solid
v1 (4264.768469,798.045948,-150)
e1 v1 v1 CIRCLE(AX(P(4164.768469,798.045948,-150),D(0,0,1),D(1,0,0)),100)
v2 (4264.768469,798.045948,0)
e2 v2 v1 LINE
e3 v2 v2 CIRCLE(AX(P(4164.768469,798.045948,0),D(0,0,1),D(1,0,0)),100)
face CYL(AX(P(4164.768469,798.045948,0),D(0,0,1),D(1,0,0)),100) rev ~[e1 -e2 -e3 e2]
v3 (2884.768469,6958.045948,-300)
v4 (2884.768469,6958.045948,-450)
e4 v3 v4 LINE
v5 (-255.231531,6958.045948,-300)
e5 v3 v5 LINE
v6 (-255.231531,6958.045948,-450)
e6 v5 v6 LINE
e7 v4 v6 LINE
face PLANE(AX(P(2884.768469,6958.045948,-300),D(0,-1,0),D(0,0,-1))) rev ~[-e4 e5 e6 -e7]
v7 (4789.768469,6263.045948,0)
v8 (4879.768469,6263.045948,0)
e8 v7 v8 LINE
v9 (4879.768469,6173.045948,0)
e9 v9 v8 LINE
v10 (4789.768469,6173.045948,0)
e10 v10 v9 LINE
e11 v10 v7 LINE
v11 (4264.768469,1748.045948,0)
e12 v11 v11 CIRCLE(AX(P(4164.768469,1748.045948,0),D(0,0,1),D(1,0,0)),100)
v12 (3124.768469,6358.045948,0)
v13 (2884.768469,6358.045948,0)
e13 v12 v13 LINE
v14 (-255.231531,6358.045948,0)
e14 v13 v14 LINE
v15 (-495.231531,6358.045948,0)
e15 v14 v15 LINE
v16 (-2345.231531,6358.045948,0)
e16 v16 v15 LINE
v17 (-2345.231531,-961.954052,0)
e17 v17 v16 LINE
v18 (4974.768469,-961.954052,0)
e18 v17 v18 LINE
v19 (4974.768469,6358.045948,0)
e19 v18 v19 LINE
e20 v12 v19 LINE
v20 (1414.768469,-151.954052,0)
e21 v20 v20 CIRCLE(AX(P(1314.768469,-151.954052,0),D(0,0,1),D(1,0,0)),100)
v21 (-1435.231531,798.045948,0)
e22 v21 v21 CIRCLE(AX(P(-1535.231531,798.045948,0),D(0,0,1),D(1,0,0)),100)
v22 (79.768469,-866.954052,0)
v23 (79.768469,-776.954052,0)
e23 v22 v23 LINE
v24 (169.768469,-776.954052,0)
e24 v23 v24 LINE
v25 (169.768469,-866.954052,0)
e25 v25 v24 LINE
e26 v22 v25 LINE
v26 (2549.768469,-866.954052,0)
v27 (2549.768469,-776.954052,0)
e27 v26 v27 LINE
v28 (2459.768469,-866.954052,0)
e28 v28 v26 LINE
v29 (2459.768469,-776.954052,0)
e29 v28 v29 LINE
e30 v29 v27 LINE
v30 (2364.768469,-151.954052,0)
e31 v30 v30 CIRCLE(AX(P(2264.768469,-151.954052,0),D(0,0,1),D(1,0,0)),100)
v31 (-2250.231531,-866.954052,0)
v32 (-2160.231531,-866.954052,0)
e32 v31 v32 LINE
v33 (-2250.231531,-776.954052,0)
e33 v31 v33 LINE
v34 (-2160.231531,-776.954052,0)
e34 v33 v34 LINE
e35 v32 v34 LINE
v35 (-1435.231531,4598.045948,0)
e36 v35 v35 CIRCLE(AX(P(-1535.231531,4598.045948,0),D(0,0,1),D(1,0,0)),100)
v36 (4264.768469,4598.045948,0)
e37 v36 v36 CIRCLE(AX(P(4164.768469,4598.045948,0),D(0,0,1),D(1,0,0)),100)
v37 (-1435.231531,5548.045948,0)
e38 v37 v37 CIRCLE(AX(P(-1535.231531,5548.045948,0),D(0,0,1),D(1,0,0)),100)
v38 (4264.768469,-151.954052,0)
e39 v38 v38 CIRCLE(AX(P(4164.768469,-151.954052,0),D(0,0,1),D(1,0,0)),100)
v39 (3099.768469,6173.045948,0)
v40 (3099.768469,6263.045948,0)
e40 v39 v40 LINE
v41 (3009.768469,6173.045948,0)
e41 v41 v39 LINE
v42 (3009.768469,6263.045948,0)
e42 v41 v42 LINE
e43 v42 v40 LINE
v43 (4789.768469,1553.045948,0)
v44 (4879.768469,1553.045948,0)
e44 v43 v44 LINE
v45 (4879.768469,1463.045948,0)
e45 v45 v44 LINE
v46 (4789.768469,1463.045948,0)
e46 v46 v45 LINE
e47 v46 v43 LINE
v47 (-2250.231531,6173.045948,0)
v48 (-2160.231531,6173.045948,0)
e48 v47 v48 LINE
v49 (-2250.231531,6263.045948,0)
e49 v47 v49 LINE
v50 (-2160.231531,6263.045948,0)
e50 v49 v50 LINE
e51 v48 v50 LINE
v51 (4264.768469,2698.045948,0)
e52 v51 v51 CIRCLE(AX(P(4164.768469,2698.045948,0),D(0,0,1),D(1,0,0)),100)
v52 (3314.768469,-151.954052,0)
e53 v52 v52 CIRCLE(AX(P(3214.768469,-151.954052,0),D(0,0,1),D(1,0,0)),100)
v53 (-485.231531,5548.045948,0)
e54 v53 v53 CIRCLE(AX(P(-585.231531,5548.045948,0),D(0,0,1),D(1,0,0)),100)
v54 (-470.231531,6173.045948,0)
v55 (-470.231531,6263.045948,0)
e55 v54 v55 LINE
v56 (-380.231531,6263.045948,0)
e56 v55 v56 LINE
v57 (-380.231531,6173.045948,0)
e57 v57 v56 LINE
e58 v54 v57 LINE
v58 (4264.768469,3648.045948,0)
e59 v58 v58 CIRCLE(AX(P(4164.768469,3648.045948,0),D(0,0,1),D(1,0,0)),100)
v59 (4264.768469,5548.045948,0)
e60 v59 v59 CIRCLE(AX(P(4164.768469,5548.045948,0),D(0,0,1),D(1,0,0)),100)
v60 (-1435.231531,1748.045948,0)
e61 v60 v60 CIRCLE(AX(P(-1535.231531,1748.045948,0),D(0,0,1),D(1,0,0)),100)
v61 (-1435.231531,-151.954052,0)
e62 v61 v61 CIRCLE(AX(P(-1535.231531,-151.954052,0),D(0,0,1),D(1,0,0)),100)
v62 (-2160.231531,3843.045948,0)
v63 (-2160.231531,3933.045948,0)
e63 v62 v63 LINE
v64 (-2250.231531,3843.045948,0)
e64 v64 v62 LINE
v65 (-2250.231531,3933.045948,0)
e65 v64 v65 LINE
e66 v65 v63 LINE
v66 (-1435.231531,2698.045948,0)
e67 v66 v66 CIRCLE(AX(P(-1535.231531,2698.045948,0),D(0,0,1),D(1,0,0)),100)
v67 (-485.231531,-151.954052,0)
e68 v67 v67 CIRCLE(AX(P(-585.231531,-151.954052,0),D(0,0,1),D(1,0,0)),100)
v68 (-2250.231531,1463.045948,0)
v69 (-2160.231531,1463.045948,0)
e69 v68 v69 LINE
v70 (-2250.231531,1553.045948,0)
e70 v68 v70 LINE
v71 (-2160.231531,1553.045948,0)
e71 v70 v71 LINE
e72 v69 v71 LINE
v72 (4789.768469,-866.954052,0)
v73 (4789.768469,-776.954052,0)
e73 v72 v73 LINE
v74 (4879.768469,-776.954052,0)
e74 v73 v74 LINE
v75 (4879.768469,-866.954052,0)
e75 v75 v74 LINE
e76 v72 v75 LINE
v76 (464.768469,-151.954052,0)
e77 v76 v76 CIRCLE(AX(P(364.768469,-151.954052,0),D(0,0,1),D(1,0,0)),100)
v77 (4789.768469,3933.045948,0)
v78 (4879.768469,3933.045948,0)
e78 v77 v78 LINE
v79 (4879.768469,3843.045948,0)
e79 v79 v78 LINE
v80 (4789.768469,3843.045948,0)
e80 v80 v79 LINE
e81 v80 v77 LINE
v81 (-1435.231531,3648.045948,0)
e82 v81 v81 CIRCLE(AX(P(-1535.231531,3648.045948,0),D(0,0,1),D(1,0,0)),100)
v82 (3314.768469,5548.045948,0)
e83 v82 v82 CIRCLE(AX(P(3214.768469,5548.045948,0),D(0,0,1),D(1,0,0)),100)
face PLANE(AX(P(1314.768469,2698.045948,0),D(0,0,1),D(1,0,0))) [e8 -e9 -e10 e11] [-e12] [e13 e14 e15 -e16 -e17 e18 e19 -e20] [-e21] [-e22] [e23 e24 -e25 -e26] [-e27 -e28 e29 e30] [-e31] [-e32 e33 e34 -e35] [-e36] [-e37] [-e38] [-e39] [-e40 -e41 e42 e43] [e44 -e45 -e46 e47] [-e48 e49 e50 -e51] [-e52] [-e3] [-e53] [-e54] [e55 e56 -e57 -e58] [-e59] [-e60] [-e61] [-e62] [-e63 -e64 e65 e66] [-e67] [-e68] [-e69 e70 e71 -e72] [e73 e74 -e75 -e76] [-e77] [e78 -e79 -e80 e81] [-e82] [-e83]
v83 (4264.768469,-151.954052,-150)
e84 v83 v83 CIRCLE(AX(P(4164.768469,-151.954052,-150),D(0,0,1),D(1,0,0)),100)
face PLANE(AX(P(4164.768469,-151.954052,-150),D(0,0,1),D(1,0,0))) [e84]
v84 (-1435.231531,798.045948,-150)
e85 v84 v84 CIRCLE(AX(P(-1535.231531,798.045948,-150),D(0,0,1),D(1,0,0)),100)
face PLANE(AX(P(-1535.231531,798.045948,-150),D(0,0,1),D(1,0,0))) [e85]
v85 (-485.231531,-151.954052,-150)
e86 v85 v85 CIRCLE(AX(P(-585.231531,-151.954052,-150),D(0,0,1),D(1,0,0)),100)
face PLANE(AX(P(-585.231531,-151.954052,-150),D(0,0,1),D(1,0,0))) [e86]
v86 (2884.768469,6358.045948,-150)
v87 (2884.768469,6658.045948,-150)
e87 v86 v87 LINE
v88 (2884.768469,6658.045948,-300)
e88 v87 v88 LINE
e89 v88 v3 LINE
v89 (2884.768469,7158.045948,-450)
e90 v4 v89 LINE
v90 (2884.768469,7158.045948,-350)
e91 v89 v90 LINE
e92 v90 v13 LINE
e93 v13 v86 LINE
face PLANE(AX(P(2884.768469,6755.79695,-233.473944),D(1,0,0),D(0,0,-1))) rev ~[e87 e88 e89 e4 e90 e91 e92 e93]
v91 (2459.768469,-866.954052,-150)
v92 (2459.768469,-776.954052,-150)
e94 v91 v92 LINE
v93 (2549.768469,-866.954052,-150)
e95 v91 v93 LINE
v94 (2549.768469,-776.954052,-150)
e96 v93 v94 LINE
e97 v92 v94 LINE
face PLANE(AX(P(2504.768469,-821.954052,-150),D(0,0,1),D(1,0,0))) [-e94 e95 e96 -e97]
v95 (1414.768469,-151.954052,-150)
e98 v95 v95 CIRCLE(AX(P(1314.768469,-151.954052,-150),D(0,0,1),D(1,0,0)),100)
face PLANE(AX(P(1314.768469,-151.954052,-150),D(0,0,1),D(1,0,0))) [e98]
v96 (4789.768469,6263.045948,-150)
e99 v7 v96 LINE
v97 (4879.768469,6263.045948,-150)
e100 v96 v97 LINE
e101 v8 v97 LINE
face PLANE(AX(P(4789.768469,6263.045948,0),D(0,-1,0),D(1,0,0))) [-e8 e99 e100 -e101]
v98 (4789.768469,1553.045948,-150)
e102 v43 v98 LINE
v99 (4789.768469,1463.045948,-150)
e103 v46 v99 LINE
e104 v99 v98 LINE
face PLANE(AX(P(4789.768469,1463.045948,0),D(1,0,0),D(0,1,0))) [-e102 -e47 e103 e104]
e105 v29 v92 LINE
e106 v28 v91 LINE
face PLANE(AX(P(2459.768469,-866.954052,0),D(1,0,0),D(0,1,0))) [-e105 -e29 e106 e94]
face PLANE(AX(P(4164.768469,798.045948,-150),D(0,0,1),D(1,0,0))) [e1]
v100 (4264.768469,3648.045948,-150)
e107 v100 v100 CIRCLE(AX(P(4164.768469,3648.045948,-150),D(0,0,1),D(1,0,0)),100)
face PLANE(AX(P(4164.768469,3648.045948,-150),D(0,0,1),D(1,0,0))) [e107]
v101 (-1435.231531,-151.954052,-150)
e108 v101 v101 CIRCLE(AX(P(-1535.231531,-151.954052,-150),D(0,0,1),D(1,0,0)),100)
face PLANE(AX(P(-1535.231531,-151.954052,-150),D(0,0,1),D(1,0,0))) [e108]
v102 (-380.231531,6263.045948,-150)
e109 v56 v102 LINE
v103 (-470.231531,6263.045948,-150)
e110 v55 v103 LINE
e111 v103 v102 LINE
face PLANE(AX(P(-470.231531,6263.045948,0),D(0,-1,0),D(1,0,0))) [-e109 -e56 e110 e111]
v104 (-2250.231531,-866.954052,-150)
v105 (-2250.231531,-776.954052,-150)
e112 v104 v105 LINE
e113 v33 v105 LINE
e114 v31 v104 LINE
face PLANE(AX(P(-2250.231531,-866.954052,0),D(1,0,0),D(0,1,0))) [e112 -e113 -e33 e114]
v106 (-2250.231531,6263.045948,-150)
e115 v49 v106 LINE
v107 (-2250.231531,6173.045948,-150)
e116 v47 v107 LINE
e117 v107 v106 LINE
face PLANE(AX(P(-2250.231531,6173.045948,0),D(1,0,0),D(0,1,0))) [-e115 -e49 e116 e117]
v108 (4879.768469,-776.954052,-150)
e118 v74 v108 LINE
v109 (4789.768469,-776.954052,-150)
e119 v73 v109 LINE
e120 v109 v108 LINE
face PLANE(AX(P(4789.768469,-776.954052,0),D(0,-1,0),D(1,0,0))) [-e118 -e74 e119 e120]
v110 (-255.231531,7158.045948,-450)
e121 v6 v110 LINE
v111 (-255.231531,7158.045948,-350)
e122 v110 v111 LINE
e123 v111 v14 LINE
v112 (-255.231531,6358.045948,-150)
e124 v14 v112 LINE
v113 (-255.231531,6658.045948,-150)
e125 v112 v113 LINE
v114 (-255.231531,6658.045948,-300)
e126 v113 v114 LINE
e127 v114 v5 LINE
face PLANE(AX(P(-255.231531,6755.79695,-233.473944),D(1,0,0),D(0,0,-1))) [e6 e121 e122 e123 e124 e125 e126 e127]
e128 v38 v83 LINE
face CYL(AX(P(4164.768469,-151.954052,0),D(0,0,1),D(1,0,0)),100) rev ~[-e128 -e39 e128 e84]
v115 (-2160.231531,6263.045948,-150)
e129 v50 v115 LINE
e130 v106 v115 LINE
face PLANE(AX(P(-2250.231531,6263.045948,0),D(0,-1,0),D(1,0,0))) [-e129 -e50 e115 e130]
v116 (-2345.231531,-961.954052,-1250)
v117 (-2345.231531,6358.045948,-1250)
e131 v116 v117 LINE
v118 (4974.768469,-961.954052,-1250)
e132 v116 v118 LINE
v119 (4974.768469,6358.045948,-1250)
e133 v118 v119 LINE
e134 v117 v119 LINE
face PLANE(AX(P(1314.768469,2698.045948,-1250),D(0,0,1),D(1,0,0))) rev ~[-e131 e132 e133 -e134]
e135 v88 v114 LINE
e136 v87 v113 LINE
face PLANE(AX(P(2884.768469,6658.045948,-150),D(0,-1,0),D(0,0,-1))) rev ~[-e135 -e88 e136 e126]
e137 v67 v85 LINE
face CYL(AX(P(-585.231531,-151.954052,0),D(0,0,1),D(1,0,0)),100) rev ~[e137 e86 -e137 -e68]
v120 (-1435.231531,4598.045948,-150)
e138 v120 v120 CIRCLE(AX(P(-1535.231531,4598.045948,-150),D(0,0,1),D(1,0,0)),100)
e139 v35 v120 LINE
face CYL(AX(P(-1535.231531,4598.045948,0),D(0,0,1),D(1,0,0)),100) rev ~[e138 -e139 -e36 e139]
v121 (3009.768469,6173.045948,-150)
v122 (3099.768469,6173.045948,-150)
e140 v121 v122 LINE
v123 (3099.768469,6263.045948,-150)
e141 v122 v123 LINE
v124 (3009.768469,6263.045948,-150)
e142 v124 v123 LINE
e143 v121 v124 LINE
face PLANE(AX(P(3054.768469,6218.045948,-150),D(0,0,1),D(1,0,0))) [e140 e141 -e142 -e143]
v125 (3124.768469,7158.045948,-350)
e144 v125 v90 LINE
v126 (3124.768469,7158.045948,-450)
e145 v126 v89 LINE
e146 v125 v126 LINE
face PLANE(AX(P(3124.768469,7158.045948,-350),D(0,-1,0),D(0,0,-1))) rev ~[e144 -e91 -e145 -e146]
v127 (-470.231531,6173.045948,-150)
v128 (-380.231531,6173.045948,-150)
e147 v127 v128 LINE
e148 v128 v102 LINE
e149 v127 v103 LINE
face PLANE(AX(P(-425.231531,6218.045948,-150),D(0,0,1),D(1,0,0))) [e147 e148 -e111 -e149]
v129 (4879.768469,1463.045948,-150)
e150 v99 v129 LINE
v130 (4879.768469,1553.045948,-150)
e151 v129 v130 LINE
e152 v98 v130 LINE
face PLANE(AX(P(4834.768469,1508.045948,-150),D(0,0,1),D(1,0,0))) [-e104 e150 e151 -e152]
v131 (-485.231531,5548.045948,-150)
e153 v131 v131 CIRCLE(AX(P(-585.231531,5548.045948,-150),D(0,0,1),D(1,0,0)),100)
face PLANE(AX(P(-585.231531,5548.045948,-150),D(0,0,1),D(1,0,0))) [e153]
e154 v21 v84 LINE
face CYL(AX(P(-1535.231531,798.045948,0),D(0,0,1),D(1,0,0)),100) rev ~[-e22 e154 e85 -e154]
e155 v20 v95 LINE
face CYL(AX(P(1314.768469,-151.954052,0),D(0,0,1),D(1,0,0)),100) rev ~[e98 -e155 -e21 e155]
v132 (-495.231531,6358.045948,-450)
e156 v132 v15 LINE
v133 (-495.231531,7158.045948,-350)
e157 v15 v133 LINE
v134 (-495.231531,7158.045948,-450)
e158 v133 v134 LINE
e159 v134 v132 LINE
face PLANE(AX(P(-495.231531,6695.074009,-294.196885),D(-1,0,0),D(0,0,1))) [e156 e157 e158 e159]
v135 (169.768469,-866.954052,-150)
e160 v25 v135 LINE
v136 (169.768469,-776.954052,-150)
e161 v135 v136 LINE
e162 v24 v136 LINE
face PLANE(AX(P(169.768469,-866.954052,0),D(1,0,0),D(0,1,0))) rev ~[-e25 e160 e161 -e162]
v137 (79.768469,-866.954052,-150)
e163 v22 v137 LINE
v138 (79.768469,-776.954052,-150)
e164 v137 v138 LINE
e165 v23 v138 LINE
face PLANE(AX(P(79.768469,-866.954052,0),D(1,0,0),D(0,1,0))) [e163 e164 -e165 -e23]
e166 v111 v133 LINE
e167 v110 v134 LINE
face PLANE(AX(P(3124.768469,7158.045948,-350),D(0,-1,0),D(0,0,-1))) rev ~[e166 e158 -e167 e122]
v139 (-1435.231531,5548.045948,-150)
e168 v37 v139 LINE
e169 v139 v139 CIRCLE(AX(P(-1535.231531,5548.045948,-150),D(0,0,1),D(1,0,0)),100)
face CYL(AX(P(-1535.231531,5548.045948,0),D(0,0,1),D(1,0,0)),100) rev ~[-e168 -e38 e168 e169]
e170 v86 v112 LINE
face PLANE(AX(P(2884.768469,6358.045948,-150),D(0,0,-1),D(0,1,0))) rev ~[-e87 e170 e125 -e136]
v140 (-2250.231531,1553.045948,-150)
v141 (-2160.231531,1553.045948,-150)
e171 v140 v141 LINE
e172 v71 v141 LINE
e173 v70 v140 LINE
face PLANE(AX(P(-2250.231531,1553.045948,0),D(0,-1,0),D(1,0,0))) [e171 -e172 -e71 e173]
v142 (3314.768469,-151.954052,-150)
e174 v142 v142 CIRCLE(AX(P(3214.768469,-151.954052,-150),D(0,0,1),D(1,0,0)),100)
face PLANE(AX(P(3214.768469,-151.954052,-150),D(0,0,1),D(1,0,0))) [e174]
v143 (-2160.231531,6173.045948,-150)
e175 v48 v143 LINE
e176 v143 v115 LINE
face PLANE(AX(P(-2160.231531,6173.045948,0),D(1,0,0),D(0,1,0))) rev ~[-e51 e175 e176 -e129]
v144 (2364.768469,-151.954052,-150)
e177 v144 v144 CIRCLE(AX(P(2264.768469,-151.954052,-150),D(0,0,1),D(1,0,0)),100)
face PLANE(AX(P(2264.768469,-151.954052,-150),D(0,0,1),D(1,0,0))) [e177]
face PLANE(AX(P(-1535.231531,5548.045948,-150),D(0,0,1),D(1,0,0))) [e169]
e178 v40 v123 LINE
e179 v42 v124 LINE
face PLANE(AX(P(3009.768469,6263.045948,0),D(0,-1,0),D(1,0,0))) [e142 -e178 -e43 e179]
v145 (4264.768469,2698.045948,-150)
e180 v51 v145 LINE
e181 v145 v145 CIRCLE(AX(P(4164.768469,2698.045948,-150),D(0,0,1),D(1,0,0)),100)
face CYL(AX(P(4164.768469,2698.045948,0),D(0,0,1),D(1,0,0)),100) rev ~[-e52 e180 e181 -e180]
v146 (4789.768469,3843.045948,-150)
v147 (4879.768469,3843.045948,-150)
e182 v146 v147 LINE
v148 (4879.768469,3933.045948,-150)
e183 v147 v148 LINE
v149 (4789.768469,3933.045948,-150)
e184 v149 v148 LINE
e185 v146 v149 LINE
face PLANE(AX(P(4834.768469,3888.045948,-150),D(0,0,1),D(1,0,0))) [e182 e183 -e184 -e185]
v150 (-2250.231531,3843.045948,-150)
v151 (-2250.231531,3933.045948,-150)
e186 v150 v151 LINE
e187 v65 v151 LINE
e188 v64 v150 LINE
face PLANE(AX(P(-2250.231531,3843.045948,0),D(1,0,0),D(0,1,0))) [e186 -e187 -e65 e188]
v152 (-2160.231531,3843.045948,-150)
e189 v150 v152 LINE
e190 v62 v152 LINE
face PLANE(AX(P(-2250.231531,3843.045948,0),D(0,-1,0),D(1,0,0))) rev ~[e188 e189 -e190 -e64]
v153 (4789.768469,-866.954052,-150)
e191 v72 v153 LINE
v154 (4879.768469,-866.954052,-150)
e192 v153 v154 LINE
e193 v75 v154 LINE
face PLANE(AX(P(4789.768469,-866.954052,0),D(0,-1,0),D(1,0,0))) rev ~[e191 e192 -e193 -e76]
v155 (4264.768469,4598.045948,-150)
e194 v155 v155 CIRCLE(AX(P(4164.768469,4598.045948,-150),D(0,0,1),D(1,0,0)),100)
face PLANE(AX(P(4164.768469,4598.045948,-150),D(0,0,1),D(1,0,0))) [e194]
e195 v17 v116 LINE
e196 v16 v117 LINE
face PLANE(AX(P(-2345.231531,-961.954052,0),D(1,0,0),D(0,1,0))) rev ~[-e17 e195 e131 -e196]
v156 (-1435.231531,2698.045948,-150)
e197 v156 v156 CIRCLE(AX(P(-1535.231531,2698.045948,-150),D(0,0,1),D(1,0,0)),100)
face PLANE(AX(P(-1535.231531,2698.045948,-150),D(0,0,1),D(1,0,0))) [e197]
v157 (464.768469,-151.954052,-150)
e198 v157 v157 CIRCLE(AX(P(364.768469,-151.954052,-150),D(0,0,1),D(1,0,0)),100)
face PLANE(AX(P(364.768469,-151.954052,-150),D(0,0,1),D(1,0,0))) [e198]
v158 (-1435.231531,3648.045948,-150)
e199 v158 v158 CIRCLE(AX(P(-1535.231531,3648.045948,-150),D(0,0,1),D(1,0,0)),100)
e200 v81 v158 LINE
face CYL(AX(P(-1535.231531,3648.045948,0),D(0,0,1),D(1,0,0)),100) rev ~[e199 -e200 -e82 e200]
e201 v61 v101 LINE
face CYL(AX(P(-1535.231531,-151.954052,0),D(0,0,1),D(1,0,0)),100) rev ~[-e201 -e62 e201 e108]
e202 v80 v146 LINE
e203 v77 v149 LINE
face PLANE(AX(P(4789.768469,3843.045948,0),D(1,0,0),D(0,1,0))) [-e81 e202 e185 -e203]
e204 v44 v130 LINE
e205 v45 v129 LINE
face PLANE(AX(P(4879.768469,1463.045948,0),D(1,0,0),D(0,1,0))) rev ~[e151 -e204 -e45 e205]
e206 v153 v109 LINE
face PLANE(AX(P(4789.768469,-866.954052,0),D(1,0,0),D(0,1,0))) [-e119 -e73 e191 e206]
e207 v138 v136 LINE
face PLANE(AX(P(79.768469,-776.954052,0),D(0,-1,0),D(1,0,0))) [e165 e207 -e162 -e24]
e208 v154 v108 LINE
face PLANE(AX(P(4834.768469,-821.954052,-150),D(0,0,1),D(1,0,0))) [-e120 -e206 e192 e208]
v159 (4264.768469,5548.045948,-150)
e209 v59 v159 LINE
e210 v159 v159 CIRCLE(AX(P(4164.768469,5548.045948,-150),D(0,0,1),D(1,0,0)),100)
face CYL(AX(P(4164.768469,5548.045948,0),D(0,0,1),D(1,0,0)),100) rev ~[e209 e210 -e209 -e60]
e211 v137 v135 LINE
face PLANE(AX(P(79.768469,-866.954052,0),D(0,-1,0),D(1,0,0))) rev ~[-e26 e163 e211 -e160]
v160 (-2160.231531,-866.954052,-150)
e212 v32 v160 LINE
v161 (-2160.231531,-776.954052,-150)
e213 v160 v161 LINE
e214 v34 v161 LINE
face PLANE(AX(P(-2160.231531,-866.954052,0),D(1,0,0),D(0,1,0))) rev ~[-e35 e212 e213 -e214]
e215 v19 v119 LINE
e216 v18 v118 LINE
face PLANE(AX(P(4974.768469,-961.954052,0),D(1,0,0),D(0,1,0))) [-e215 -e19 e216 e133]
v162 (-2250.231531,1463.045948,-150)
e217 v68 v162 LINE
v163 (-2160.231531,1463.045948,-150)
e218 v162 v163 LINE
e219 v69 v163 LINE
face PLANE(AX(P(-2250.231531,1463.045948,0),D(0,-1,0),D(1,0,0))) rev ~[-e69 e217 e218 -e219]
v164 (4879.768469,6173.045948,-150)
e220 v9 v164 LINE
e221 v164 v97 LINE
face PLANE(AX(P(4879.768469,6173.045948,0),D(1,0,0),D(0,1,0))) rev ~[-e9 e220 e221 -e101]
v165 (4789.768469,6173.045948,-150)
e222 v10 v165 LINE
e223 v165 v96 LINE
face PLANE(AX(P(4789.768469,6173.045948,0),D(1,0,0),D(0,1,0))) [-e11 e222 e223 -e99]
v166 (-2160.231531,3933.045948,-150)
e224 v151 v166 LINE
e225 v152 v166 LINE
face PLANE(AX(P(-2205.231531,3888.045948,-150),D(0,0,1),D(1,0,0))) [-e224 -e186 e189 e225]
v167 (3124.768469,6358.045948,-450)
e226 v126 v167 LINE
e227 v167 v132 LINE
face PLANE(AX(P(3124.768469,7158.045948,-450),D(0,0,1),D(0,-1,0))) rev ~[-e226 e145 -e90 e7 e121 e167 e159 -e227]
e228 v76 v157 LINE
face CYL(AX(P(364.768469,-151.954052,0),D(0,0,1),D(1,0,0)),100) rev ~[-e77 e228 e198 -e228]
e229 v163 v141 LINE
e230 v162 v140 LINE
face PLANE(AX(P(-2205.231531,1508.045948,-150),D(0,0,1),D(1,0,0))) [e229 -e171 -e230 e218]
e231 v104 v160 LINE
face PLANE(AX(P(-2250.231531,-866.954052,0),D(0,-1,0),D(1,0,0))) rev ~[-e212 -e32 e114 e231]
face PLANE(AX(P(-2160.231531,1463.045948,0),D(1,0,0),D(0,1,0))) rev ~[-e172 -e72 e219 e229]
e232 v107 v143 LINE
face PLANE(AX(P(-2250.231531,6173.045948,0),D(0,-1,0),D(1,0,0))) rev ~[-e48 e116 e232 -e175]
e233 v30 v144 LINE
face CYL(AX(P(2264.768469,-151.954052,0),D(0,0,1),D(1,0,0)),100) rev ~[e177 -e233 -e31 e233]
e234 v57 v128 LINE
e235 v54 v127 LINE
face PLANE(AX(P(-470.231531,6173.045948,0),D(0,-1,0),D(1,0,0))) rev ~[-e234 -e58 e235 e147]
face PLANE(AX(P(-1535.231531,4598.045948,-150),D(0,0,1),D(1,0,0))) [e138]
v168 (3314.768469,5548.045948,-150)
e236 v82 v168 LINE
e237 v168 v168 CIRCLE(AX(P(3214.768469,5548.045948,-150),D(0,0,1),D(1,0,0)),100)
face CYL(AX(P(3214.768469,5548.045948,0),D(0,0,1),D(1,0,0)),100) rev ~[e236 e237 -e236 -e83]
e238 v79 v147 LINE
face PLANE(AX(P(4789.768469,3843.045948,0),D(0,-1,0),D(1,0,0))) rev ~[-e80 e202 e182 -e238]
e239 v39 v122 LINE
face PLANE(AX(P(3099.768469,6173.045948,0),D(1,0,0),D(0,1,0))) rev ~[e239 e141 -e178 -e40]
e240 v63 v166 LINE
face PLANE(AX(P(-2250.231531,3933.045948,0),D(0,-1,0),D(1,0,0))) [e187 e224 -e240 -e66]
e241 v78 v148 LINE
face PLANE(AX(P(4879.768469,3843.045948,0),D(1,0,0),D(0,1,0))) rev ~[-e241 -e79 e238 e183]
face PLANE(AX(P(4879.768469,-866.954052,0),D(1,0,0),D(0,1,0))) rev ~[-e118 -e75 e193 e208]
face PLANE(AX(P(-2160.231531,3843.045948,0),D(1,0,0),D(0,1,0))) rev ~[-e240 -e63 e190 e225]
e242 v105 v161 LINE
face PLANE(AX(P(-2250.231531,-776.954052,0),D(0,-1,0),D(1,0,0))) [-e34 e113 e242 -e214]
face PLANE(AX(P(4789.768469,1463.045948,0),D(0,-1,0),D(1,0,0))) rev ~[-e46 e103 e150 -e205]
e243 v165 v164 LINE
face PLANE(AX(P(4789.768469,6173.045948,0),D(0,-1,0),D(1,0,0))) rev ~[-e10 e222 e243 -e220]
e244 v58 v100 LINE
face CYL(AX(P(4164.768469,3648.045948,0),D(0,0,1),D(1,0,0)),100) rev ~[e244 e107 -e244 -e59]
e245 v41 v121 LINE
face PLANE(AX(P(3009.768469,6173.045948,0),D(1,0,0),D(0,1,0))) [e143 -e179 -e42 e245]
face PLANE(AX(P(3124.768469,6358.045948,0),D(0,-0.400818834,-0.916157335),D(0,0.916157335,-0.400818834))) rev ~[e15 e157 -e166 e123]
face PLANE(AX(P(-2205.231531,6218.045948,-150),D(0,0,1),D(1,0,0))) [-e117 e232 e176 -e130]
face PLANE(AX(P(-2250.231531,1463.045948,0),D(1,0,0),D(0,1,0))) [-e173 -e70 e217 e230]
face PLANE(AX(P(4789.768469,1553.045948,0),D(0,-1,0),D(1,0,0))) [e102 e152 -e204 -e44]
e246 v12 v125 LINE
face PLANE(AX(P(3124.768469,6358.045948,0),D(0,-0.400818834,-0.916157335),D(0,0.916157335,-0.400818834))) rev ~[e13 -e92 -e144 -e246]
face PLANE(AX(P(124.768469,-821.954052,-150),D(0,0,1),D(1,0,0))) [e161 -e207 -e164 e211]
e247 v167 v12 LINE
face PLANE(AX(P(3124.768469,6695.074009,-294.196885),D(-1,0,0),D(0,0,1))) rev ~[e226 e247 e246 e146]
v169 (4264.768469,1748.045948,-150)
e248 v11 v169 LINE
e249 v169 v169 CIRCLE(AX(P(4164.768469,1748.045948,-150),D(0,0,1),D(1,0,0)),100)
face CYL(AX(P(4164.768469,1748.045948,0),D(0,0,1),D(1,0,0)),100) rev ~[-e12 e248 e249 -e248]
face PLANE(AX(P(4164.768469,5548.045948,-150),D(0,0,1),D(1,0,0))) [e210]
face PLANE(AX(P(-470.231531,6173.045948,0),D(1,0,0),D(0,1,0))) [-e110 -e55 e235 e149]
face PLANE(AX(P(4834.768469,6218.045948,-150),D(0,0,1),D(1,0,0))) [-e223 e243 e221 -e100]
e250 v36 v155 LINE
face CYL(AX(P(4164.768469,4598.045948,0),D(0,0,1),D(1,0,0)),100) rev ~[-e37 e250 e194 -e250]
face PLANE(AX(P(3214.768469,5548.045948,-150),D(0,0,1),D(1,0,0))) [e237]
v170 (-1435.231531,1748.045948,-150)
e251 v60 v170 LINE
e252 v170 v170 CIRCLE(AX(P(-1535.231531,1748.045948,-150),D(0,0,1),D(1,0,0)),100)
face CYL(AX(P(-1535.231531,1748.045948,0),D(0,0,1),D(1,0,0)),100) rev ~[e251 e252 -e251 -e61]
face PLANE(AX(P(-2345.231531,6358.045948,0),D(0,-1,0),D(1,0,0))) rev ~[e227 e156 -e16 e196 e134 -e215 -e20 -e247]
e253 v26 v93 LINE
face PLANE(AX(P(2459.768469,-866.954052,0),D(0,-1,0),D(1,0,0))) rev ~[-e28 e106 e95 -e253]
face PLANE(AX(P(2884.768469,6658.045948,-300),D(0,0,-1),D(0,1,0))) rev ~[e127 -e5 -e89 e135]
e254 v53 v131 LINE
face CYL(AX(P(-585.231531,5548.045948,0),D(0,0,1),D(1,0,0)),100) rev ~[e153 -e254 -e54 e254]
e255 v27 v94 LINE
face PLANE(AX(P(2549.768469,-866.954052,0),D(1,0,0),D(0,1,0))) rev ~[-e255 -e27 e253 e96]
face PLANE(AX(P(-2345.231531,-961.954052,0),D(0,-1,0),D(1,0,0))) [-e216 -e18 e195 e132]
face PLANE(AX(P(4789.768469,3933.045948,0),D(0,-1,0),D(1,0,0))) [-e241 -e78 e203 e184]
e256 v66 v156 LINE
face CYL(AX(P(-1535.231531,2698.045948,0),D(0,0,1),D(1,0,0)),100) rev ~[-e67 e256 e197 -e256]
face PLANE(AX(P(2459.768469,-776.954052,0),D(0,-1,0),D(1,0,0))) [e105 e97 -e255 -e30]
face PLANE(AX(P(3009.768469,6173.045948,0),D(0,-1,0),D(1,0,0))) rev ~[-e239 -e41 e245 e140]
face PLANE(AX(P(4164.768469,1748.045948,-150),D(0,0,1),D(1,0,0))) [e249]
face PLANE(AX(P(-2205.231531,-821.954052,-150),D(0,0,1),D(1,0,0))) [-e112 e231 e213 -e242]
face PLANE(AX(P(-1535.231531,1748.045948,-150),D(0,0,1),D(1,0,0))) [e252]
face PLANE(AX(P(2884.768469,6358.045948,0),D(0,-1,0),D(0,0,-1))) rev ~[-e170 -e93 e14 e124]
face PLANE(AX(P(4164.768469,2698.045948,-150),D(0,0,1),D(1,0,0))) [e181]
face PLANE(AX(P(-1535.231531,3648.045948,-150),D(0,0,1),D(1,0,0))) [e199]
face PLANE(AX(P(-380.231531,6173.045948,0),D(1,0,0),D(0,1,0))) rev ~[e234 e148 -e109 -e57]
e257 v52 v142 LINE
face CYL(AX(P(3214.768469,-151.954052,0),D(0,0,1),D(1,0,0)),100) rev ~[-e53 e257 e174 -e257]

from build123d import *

# Parameters (mm, degrees)
SKETCH_1_W          = 7320
SKETCH_1_H          = 7320
EXTRUDE_1_DEPTH     = 1250
SKETCH_2_R          = 100
CUT_EXTRUDE_2_DEPTH = 150
SKETCH_9_W          = 90
SKETCH_9_H          = 90
CUT_EXTRUDE_3_DEPTH = 150
SKETCH_10_R         = 100
CUT_EXTRUDE_4_DEPTH = 150
EXTRUDE_2_DEPTH     = 3620
CUT_EXTRUDE_5_DEPTH = 3140


with BuildPart() as part:
    # 草图1 → 凸台-拉伸1 (new body)
    with BuildSketch(Plane.XY):
        with Locations((1314.768469162, 2698.045948238)):
            Rectangle(SKETCH_1_W, SKETCH_1_H)
    extrude(amount=-EXTRUDE_1_DEPTH)

    # 草图2 → 切除-拉伸2 (cut)
    with BuildSketch(Plane.XY):
        with Locations((-1535.231530838, 5548.045948238)):
            Circle(SKETCH_2_R)
        with Locations((4164.768469162, 5548.045948238)):
            Circle(SKETCH_2_R)
        with Locations((-1535.231530838, -151.954051762)):
            Circle(SKETCH_2_R)
        with Locations((4164.768469162, -151.954051762)):
            Circle(SKETCH_2_R)
    extrude(amount=-CUT_EXTRUDE_2_DEPTH, mode=Mode.SUBTRACT)

    # 草图9 → 切除-拉伸3 (cut)
    with BuildSketch(Plane.XY):
        with Locations((-2205.231530838, 6218.045948238)):
            Rectangle(SKETCH_9_W, SKETCH_9_H)
        with Locations((-2205.231530838, 3888.045948238)):
            Rectangle(SKETCH_9_W, SKETCH_9_H)
        with Locations((-2205.231530838, 1508.045948238)):
            Rectangle(SKETCH_9_W, SKETCH_9_H)
        with Locations((-2205.231530838, -821.954051762)):
            Rectangle(SKETCH_9_W, SKETCH_9_H)
        with Locations((124.768469162, -821.954051762)):
            Rectangle(SKETCH_9_W, SKETCH_9_H)
        with Locations((2504.768469162, -821.954051762)):
            Rectangle(SKETCH_9_W, SKETCH_9_H)
        with Locations((4834.768469162, -821.954051762)):
            Rectangle(SKETCH_9_W, SKETCH_9_H)
        with Locations((4834.768469162, 1508.045948238)):
            Rectangle(SKETCH_9_W, SKETCH_9_H)
        with Locations((4834.768469162, 3888.045948238)):
            Rectangle(SKETCH_9_W, SKETCH_9_H)
        with Locations((4834.768469162, 6218.045948238)):
            Rectangle(SKETCH_9_W, SKETCH_9_H)
        with Locations((3054.768469162, 6218.045948238)):
            Rectangle(SKETCH_9_W, SKETCH_9_H)
        with Locations((-425.231530838, 6218.045948238)):
            Rectangle(SKETCH_9_W, SKETCH_9_H)
    extrude(amount=-CUT_EXTRUDE_3_DEPTH, mode=Mode.SUBTRACT)

    # 草图10 → 切除-拉伸4 (cut)
    with BuildSketch(Plane.XY):
        with Locations((-585.231530838, 5548.045948238)):
            Circle(SKETCH_10_R)
        with Locations((-1535.231530838, 3648.045948238)):
            Circle(SKETCH_10_R)
        with Locations((-1535.231530838, 1748.045948238)):
            Circle(SKETCH_10_R)
        with Locations((4164.768469162, 3648.045948238)):
            Circle(SKETCH_10_R)
        with Locations((4164.768469162, 1748.045948238)):
            Circle(SKETCH_10_R)
        with Locations((3214.768469162, 5548.045948238)):
            Circle(SKETCH_10_R)
        with Locations((-1535.231530838, 4598.045948238)):
            Circle(SKETCH_10_R)
        with Locations((-1535.231530838, 2698.045948238)):
            Circle(SKETCH_10_R)
        with Locations((-1535.231530838, 798.045948238)):
            Circle(SKETCH_10_R)
        with Locations((4164.768469162, 4598.045948238)):
            Circle(SKETCH_10_R)
        with Locations((4164.768469162, 2698.045948238)):
            Circle(SKETCH_10_R)
        with Locations((4164.768469162, 798.045948238)):
            Circle(SKETCH_10_R)
        with Locations((-585.231530838, -151.954051762)):
            Circle(SKETCH_10_R)
        with Locations((364.768469162, -151.954051762)):
            Circle(SKETCH_10_R)
        with Locations((1314.768469162, -151.954051762)):
            Circle(SKETCH_10_R)
        with Locations((2264.768469162, -151.954051762)):
            Circle(SKETCH_10_R)
        with Locations((3214.768469162, -151.954051762)):
            Circle(SKETCH_10_R)
    extrude(amount=-CUT_EXTRUDE_4_DEPTH, mode=Mode.SUBTRACT)

    # 草图11 → 凸台-拉伸2 (add)
    with BuildSketch(Plane(origin=(3124.768469162, 0, 0), x_dir=(0, 0, -1), z_dir=(1, 0, 0))):
        Polygon((450, 7158.045948238), (450, 6358.045948238), (0, 6358.045948238), (350, 7158.045948238), align=None)
    extrude(amount=-EXTRUDE_2_DEPTH)

    # 草图14 → 切除-拉伸5 (cut)
    with BuildSketch(Plane.ZY.offset(-2884.768469162)):
        Polygon((-150, 6358.045948238), (-150, 6658.045948238), (-300, 6658.045948238), (-300, 6958.045948238), (-450, 6958.045948238), (-450, 7158.045948238), (-350, 7158.045948238), (0, 6358.045948238), align=None)
    extrude(amount=CUT_EXTRUDE_5_DEPTH, mode=Mode.SUBTRACT)


solid = part.part
